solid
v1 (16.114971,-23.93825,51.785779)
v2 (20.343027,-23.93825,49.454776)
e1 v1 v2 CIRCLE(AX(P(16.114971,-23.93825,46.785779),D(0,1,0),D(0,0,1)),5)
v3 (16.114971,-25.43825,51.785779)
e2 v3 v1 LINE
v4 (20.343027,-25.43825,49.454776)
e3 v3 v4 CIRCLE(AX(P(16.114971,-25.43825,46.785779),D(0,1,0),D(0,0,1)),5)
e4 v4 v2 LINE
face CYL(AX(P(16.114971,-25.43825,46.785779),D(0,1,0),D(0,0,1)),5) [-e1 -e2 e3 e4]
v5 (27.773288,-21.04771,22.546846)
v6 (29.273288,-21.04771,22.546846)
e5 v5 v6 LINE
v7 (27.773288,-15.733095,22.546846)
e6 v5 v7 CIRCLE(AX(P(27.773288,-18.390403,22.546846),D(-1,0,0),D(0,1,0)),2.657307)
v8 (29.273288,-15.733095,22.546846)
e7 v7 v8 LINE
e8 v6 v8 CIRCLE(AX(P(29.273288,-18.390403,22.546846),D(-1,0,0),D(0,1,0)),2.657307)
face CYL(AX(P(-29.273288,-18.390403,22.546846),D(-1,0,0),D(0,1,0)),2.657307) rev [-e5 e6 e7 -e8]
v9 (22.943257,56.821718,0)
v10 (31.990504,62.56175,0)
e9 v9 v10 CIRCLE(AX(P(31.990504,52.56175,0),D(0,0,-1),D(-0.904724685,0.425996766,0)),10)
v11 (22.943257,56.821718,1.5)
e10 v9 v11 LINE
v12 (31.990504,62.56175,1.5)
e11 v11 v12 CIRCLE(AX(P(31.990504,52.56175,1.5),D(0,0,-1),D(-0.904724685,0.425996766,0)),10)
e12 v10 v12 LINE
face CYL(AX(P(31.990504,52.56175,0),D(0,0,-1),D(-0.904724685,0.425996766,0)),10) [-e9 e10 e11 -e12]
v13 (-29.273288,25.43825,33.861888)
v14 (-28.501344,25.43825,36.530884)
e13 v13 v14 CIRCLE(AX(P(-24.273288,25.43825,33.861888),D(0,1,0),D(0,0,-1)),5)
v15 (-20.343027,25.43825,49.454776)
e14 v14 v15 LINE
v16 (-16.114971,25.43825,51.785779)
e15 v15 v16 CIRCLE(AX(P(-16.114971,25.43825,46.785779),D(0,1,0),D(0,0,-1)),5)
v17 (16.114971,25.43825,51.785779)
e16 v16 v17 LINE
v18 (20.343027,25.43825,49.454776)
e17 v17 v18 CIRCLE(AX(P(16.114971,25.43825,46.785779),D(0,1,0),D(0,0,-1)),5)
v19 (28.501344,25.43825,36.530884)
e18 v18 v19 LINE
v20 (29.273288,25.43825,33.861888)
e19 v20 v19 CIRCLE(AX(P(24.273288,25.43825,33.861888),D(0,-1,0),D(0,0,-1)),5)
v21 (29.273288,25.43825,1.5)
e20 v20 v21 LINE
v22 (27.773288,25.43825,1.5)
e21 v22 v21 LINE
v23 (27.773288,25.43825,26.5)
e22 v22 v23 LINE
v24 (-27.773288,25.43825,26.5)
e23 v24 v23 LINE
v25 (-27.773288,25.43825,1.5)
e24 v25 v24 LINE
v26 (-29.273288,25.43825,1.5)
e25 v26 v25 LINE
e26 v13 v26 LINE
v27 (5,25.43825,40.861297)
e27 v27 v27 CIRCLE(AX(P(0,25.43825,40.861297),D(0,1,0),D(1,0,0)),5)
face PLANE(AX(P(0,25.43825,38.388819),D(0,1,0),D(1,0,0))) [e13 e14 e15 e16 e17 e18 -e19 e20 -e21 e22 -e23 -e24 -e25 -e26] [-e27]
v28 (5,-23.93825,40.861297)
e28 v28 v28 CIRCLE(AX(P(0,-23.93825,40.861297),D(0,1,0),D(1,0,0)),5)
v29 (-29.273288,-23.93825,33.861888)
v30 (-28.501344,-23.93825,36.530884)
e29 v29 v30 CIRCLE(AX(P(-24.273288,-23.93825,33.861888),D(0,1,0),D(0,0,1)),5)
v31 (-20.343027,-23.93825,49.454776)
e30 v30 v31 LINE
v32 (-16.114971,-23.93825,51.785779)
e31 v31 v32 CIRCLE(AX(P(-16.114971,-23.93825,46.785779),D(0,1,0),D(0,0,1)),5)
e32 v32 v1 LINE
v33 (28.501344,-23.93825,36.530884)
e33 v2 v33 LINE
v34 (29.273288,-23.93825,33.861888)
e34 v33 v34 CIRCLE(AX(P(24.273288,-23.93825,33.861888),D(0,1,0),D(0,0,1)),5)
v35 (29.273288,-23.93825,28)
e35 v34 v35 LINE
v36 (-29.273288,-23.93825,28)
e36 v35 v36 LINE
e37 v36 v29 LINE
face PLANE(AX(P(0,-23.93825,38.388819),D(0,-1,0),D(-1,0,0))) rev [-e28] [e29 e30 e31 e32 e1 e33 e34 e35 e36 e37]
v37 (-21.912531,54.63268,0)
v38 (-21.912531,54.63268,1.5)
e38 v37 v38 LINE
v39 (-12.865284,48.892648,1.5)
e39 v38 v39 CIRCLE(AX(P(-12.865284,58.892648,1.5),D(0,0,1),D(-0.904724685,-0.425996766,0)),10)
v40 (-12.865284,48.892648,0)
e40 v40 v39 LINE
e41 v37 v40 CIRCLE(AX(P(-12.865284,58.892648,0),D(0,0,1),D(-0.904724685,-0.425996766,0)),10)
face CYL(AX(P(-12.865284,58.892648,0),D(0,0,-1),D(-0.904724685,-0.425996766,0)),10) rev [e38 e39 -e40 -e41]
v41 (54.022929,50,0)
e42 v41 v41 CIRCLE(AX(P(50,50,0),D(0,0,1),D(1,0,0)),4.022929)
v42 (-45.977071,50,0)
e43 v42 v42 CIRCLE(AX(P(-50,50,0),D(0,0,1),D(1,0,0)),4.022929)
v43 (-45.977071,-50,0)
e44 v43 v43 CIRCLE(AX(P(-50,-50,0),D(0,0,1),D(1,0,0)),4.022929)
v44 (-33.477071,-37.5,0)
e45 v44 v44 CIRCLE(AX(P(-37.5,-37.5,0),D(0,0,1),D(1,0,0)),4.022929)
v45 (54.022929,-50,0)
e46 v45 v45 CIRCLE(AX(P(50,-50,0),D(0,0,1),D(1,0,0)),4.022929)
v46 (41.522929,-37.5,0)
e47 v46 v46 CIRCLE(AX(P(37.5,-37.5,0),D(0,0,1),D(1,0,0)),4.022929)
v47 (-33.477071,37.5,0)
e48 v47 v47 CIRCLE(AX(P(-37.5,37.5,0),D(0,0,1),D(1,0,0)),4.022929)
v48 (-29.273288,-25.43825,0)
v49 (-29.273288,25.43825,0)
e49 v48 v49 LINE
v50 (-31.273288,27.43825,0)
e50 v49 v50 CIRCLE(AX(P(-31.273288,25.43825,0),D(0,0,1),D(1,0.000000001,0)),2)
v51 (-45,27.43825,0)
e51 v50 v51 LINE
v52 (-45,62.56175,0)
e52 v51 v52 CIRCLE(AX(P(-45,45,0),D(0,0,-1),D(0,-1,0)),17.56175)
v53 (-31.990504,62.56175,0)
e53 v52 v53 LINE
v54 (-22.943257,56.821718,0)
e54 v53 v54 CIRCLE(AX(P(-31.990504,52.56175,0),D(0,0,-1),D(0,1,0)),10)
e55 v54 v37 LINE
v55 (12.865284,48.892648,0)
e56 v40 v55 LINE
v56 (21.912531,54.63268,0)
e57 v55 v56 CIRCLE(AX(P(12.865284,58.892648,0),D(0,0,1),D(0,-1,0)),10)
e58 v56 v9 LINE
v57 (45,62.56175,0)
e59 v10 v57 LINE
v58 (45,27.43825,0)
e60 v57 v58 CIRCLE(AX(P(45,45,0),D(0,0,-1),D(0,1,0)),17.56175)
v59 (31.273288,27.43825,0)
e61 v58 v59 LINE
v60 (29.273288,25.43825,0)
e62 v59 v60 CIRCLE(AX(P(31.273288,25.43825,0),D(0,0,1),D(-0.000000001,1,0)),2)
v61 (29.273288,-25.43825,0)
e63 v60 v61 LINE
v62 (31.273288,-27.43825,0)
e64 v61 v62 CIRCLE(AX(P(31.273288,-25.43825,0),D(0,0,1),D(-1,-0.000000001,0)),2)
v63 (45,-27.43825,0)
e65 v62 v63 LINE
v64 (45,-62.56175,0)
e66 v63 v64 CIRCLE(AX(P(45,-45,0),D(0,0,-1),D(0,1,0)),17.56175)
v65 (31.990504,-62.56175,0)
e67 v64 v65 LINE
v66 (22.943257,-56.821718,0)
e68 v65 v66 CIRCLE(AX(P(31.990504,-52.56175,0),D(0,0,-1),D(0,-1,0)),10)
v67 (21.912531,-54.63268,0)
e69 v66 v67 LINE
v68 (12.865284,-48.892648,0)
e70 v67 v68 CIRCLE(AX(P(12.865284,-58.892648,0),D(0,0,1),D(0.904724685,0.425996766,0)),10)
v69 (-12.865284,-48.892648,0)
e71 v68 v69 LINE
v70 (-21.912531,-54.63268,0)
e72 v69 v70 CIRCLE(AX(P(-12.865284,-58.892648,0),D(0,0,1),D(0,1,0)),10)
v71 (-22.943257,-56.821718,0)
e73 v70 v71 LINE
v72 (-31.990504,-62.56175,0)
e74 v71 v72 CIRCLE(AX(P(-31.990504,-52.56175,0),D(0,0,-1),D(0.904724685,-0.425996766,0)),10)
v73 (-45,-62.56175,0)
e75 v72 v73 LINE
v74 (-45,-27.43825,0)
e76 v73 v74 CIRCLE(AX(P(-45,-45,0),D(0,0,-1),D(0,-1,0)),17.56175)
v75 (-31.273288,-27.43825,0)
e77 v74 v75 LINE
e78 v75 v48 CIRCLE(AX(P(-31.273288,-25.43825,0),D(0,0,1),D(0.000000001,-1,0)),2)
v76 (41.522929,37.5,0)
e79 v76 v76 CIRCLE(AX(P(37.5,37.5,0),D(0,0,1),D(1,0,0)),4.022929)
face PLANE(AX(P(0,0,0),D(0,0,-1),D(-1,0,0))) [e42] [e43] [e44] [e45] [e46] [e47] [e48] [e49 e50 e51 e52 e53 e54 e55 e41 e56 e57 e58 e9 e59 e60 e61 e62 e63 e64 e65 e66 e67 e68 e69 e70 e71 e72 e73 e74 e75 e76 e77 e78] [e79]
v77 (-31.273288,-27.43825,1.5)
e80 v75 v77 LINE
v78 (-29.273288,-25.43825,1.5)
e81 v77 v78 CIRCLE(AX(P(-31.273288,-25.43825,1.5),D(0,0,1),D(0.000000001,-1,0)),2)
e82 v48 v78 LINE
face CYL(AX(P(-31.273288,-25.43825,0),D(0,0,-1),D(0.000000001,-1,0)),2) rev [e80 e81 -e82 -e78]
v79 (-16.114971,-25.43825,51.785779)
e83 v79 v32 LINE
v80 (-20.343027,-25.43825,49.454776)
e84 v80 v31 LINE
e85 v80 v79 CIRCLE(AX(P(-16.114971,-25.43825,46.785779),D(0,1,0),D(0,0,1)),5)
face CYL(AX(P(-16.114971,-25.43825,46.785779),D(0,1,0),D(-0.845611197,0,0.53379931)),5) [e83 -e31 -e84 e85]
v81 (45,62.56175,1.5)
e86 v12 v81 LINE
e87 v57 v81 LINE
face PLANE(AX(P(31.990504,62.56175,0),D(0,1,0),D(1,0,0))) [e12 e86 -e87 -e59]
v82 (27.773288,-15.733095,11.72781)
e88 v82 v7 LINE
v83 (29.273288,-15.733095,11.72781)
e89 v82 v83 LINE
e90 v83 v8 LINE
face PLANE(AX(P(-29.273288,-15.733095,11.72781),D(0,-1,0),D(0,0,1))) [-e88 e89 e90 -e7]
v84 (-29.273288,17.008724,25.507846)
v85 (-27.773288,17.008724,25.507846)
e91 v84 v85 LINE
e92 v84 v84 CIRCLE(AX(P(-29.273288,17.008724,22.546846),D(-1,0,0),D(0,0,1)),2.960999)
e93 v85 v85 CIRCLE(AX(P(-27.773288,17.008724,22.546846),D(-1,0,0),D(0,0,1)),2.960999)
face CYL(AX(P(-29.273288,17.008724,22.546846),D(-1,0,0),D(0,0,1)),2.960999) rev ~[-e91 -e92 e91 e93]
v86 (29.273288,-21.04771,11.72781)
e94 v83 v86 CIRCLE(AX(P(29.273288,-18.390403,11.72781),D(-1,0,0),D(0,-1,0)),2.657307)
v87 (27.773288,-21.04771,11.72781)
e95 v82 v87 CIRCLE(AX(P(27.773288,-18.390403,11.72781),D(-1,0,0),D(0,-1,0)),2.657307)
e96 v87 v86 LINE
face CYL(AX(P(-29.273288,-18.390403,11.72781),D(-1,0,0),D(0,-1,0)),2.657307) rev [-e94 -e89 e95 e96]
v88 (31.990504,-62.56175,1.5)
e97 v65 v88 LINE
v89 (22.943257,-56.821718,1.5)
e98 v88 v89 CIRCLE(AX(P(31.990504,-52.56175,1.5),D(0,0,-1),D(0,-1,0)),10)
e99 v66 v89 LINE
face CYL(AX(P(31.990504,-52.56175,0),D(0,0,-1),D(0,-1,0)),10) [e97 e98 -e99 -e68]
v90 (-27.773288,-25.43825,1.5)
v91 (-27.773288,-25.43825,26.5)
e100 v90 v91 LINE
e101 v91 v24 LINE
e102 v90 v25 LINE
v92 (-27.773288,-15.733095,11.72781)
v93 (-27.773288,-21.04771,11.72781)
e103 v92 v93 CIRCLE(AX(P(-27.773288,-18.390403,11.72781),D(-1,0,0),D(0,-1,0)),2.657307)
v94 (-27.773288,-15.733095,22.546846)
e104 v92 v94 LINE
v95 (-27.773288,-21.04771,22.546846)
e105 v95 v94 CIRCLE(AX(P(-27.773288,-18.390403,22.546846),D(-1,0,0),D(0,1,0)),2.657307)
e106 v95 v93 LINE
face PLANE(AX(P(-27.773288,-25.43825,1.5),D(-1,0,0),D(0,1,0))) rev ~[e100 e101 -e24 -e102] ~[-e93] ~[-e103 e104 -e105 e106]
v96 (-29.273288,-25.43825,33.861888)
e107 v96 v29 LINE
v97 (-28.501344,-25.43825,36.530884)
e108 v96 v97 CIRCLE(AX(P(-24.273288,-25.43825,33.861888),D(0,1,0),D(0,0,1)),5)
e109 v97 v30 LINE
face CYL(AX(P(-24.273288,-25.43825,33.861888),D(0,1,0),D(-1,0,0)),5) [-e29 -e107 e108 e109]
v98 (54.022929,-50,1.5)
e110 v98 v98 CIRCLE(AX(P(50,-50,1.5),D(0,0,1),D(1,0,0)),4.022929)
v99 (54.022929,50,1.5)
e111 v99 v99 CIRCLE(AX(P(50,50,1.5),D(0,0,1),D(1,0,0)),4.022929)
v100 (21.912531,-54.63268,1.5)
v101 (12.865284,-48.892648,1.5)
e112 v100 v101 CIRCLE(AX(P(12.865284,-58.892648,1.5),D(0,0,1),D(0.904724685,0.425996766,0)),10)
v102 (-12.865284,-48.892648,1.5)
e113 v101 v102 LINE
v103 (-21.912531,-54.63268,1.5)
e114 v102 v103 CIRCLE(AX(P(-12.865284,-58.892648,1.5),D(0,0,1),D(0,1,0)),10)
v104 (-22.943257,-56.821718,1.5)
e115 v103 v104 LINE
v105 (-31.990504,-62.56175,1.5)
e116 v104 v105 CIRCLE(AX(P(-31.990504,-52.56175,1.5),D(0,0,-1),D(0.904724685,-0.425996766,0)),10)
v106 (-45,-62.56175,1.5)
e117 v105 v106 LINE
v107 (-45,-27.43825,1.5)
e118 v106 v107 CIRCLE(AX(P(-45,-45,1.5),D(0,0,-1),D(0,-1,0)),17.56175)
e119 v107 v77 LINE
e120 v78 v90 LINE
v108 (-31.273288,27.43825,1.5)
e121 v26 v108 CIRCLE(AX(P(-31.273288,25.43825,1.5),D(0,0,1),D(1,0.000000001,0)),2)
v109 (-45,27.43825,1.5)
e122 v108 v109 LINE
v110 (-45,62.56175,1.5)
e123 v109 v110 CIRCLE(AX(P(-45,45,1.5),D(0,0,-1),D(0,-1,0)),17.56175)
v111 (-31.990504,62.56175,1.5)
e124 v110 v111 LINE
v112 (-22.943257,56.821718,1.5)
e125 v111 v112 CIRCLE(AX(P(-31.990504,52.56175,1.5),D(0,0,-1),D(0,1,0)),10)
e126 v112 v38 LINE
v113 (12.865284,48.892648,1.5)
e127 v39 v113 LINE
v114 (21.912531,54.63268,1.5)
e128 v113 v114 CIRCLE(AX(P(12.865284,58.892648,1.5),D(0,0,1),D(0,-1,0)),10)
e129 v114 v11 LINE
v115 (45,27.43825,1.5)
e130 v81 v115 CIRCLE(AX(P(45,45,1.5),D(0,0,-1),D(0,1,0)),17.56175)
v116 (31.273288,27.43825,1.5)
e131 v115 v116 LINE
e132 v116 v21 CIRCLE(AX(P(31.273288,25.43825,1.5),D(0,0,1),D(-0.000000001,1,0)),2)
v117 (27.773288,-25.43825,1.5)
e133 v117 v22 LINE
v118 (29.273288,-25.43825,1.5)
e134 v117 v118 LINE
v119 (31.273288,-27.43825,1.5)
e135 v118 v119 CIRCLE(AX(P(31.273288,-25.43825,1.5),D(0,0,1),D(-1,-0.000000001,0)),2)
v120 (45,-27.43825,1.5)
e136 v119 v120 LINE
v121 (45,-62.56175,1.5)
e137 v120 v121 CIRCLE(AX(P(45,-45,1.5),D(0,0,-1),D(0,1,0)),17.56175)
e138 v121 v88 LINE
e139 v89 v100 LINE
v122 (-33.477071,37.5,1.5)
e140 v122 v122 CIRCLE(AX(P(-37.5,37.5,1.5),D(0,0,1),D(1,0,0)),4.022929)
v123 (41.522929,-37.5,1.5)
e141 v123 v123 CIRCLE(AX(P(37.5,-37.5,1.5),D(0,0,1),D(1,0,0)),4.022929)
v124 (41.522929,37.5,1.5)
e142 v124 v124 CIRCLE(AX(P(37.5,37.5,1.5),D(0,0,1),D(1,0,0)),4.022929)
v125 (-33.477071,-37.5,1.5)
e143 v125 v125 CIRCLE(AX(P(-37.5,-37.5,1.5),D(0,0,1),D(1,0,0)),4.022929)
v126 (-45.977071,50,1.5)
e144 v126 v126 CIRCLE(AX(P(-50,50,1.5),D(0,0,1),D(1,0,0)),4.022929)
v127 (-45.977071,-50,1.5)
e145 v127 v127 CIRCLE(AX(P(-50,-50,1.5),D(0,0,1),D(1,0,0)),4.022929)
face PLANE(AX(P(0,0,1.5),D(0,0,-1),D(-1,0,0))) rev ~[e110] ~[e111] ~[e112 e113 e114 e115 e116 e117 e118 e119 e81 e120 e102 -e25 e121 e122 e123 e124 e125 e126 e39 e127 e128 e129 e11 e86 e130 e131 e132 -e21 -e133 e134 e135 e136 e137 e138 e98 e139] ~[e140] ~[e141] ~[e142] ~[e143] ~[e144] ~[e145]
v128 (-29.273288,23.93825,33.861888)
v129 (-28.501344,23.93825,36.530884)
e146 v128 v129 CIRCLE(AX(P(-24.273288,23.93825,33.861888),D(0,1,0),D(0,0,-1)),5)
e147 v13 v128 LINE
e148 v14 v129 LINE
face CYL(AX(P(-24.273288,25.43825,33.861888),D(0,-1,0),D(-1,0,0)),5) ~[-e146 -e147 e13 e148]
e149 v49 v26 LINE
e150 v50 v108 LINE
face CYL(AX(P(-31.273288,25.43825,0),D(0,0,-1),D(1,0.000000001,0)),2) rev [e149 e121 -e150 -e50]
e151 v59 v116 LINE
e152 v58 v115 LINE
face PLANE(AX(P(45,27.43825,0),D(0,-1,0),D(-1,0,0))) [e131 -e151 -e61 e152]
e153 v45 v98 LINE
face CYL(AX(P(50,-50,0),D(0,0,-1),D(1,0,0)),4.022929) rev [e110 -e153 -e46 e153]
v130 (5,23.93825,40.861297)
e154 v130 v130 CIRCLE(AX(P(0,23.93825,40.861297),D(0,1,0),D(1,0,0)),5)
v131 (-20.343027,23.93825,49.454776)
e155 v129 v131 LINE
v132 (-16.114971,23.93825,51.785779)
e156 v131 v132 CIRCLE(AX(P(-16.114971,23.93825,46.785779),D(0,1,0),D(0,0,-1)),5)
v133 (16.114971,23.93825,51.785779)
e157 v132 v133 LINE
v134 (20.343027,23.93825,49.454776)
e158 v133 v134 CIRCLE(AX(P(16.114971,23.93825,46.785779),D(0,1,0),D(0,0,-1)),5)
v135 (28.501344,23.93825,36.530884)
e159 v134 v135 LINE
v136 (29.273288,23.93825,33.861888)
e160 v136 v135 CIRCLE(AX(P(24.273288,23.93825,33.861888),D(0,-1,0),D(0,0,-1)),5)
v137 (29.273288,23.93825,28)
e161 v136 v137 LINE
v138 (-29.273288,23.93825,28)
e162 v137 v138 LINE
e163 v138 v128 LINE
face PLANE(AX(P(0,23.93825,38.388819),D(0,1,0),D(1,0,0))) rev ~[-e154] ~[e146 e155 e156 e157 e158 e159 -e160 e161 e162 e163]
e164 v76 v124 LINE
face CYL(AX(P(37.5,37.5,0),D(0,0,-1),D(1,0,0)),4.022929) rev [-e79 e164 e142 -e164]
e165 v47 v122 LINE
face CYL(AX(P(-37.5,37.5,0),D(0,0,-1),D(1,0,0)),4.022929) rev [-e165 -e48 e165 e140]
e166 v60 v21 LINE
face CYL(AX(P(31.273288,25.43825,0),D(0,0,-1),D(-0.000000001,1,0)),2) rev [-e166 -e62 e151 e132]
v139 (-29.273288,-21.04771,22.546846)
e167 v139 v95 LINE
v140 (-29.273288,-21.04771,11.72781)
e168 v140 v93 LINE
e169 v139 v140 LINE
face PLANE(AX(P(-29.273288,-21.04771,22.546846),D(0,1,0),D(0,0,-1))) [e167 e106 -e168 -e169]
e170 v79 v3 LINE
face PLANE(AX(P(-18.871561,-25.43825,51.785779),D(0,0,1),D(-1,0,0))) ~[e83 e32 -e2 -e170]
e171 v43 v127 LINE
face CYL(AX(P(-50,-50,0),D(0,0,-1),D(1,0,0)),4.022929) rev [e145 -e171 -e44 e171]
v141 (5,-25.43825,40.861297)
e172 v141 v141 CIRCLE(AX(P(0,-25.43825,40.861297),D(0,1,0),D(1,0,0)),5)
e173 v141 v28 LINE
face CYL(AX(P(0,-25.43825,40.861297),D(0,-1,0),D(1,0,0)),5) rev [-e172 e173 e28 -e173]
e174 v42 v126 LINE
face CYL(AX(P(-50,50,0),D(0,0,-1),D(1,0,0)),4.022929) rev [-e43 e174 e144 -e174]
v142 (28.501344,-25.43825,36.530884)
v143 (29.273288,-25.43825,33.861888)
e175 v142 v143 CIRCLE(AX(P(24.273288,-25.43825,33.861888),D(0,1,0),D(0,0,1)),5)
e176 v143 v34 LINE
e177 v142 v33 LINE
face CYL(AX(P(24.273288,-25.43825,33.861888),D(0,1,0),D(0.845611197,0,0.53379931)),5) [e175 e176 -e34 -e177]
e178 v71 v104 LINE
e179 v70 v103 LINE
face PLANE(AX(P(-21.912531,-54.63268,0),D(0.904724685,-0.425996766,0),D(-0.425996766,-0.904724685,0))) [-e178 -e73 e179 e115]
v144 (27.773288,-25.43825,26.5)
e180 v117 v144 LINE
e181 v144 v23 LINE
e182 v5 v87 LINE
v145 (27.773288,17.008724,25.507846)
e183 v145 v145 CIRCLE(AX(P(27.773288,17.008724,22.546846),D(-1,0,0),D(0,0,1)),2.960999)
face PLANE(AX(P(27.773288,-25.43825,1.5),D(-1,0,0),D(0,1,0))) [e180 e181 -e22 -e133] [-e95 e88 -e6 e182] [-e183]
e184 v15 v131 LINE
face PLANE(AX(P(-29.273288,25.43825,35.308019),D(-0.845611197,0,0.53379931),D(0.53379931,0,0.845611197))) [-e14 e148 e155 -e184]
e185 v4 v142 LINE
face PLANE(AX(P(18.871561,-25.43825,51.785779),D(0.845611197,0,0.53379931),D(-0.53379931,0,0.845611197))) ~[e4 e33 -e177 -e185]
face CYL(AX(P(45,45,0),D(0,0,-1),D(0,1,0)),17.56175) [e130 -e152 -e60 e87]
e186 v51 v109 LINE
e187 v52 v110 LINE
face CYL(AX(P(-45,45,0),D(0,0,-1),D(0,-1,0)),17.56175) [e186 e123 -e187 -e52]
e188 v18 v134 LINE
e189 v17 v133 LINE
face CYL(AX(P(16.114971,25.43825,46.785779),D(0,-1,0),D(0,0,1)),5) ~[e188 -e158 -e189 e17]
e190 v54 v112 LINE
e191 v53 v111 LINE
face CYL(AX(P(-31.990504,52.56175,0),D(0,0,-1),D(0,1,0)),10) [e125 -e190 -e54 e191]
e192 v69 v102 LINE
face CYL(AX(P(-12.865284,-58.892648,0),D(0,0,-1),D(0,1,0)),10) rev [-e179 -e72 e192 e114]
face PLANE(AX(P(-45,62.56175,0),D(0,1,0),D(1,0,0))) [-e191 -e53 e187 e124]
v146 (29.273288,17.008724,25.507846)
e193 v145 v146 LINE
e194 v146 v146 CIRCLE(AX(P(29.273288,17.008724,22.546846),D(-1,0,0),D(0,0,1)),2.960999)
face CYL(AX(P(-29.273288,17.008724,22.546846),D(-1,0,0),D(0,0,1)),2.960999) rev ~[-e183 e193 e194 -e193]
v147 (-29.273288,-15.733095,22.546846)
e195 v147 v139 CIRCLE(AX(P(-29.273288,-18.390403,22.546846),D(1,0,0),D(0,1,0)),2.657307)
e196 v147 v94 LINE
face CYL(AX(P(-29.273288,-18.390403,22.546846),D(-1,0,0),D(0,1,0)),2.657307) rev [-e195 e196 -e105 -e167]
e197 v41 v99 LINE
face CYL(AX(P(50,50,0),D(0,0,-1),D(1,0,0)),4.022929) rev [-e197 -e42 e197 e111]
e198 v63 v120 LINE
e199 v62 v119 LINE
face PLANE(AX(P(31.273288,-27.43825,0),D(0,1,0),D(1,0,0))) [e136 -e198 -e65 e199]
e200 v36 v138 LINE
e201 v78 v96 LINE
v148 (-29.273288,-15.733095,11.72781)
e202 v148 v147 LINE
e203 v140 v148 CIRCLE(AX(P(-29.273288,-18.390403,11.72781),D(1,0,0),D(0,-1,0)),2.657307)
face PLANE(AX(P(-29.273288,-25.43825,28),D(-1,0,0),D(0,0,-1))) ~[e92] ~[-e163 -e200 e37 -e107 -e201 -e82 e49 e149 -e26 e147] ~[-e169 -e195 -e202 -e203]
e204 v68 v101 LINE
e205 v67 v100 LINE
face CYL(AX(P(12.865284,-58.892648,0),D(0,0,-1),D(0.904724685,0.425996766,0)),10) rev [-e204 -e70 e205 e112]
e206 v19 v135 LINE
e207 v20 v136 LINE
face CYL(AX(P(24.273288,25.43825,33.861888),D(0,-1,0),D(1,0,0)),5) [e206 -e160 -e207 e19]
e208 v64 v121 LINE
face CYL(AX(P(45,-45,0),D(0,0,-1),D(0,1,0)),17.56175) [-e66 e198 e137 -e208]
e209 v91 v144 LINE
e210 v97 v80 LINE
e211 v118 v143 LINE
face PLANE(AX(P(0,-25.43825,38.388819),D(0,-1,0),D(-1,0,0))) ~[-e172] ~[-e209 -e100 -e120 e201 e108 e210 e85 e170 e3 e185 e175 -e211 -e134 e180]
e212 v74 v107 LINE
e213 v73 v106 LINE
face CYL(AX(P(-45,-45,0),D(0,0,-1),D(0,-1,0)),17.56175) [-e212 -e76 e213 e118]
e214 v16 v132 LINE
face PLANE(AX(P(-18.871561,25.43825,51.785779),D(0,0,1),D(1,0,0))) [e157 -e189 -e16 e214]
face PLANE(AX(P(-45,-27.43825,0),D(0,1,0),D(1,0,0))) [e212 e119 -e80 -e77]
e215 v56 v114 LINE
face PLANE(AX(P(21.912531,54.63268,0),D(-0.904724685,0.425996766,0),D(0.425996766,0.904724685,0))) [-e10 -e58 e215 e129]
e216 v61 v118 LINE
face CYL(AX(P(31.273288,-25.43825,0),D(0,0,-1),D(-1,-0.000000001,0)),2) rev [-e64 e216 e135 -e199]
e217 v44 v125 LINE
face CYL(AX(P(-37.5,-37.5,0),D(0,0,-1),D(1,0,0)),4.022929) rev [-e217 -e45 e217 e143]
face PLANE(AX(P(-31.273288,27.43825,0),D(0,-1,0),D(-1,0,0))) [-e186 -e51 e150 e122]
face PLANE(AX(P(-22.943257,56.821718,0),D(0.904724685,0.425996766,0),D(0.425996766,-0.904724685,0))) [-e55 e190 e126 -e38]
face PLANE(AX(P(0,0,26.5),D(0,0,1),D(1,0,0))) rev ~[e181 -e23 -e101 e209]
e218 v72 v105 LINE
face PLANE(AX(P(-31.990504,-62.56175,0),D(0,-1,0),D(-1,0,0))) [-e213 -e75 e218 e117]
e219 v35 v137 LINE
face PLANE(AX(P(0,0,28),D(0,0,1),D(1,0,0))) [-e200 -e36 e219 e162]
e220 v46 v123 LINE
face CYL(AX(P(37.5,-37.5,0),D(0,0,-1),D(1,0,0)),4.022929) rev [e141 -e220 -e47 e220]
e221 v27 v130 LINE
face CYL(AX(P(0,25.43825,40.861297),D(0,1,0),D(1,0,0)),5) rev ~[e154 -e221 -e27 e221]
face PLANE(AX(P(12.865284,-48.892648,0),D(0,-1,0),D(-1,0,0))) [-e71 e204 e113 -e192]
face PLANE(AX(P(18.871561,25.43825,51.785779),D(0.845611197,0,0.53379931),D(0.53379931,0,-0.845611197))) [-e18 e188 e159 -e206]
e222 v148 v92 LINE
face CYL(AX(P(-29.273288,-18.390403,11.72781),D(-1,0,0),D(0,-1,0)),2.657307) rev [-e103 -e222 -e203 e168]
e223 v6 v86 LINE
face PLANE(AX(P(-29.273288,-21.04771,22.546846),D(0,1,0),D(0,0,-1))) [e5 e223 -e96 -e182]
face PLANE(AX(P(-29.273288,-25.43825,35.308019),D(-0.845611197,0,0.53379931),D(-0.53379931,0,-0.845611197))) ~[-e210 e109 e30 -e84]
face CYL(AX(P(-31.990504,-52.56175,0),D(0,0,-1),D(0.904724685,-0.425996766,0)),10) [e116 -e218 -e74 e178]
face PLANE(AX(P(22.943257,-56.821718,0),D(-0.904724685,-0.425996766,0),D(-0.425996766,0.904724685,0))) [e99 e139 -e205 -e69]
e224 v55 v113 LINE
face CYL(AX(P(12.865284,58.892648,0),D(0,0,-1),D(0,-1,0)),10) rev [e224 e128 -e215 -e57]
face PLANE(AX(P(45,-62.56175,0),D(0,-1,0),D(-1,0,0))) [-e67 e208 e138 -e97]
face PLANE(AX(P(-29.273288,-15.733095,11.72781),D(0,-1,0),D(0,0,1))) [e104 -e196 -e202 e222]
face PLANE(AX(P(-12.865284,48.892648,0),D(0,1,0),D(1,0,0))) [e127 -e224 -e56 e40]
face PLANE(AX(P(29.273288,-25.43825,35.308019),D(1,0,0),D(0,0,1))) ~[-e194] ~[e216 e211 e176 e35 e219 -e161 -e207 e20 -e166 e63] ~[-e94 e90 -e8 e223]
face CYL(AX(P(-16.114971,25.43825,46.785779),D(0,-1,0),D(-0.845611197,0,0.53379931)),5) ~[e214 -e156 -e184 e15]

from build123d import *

# Parameters (mm, degrees)
SKETCH1_R           = 4.022928706
BOSS_EXTRUDE1_DEPTH = 1.5
SKETCH3_W           = 1.5
SKETCH3_H           = 50.876500294
BOSS_EXTRUDE2_DEPTH = 25
SKETCH4_W           = 58.54657641
SKETCH4_H           = 50.876500294
BOSS_EXTRUDE3_DEPTH = 1.5
SKETCH5_R           = 5
BOSS_EXTRUDE4_DEPTH = 1.5
SKETCH8_R           = 2.960999365
CUT_EXTRUDE1_DEPTH  = 92.835038059
FILLET1_R           = 5


with BuildPart() as part:
    # Sketch1 → Boss-Extrude1 (new body)
    with BuildSketch(Plane.XY):
        with BuildLine():
            Line((-31.273288205, 27.438250147), (-45, 27.438250147))
            ThreePointArc((-45, 27.438250147), (-62.561749853, 45), (-45, 62.561749853))
            Line((-45, 62.561749853), (-31.990503674, 62.561749853))
            ThreePointArc((-31.990503674, 62.561749853), (-26.633250489, 61.005673012), (-22.943256827, 56.821717516))
            Line((-22.943256827, 56.821717516), (-21.912531254, 54.632680079))
            ThreePointArc((-21.912531254, 54.632680079), (-18.222537592, 50.448724583), (-12.865284407, 48.892647742))
            Line((-12.865284407, 48.892647742), (12.865284407, 48.892647742))
            ThreePointArc((12.865284407, 48.892647742), (18.222537592, 50.448724583), (21.912531254, 54.632680079))
            Line((21.912531254, 54.632680079), (22.943256827, 56.821717516))
            ThreePointArc((22.943256827, 56.821717516), (26.633250489, 61.005673012), (31.990503674, 62.561749853))
            Line((31.990503674, 62.561749853), (45, 62.561749853))
            ThreePointArc((45, 62.561749853), (62.561749853, 45), (45, 27.438250147))
            Line((45, 27.438250147), (31.273288205, 27.438250147))
            ThreePointArc((31.273288205, 27.438250147), (29.859074643, 26.852463709), (29.273288205, 25.438250147))
            Line((29.273288205, 25.438250147), (29.273288205, -25.438250147))
            ThreePointArc((29.273288205, -25.438250147), (29.859074643, -26.852463709), (31.273288205, -27.438250147))
            Line((31.273288205, -27.438250147), (45, -27.438250147))
            ThreePointArc((45, -27.438250147), (62.561749853, -45), (45, -62.561749853))
            Line((45, -62.561749853), (31.990503674, -62.561749853))
            ThreePointArc((31.990503674, -62.561749853), (26.633250489, -61.005673012), (22.943256827, -56.821717516))
            Line((22.943256827, -56.821717516), (21.912531254, -54.632680079))
            ThreePointArc((21.912531254, -54.632680079), (18.222537592, -50.448724583), (12.865284407, -48.892647742))
            Line((12.865284407, -48.892647742), (-12.865284407, -48.892647742))
            ThreePointArc((-12.865284407, -48.892647742), (-18.222537592, -50.448724583), (-21.912531254, -54.632680079))
            Line((-21.912531254, -54.632680079), (-22.943256827, -56.821717516))
            ThreePointArc((-22.943256827, -56.821717516), (-26.633250489, -61.005673012), (-31.990503674, -62.561749853))
            Line((-31.990503674, -62.561749853), (-45, -62.561749853))
            ThreePointArc((-45, -62.561749853), (-62.561749853, -45), (-45, -27.438250147))
            Line((-45, -27.438250147), (-31.273288205, -27.438250147))
            ThreePointArc((-31.273288205, -27.438250147), (-29.859074643, -26.852463709), (-29.273288205, -25.438250147))
            Line((-29.273288205, -25.438250147), (-29.273288205, 25.438250147))
            ThreePointArc((-29.273288205, 25.438250147), (-29.859074643, 26.852463709), (-31.273288205, 27.438250147))
        make_face()
        with Locations((-50, 50)):
            Circle(SKETCH1_R, mode=Mode.SUBTRACT)
        with Locations((50, 50)):
            Circle(SKETCH1_R, mode=Mode.SUBTRACT)
        with Locations((-37.5, 37.5)):
            Circle(SKETCH1_R, mode=Mode.SUBTRACT)
        with Locations((37.5, 37.5)):
            Circle(SKETCH1_R, mode=Mode.SUBTRACT)
        with Locations((50, -50)):
            Circle(SKETCH1_R, mode=Mode.SUBTRACT)
        with Locations((37.5, -37.5)):
            Circle(SKETCH1_R, mode=Mode.SUBTRACT)
        with Locations((-37.5, -37.5)):
            Circle(SKETCH1_R, mode=Mode.SUBTRACT)
        with Locations((-50, -50)):
            Circle(SKETCH1_R, mode=Mode.SUBTRACT)
    extrude(amount=BOSS_EXTRUDE1_DEPTH)

    # Sketch3 → Boss-Extrude2 (add)
    with BuildSketch(Plane.XY.offset(1.5)):
        with Locations((-28.523288205, 0)):
            Rectangle(SKETCH3_W, SKETCH3_H)
        with Locations((28.523288205, 0)):
            Rectangle(SKETCH3_W, SKETCH3_H)
    extrude(amount=BOSS_EXTRUDE2_DEPTH)

    # Sketch4 → Boss-Extrude3 (add)
    with BuildSketch(Plane.XY.offset(26.5)):
        Rectangle(SKETCH4_W, SKETCH4_H)
    extrude(amount=BOSS_EXTRUDE3_DEPTH)

    # Sketch5 → Boss-Extrude4 (add)
    with BuildSketch(Plane(origin=(0, 25.438250147, 0), x_dir=(1, 0, 0), z_dir=(0, 1, 0))):
        Polygon((-29.273288205, -28), (-29.273288205, -35.308019153), (-18.871561113, -51.78577911), (18.871561113, -51.78577911), (29.273288205, -35.308019153), (29.273288205, -28), align=None)
        with Locations((0, -40.861297371)):
            Circle(SKETCH5_R, mode=Mode.SUBTRACT)
    boss_extrude4 = extrude(amount=-BOSS_EXTRUDE4_DEPTH)

    # Mirror1: Boss-Extrude4 across plane
    add(boss_extrude4.mirror(Plane.ZX))

    # Sketch8 → Cut-Extrude1 (cut, through all)
    with BuildSketch(Plane.ZY.offset(29.273288205)):
        with Locations((22.546846222, 17.00872447)):
            Circle(SKETCH8_R)
        with BuildLine():
            Line((11.727810079, -15.733095436), (22.546846222, -15.733095436))
            ThreePointArc((22.546846222, -15.733095436), (25.204153345, -18.390402559), (22.546846222, -21.047709682))
            Line((22.546846222, -21.047709682), (11.727810079, -21.047709682))
            ThreePointArc((11.727810079, -21.047709682), (9.070502956, -18.390402559), (11.727810079, -15.733095436))
        make_face()
    extrude(amount=-CUT_EXTRUDE1_DEPTH, mode=Mode.SUBTRACT)

    # Fillet1
    fillet1_edges = [part.edges().sort_by_distance(p)[0] for p in [
        (29.273288205, 24.688250147, 35.308019153),
        (18.871561113, 24.688250147, 51.78577911),
        (-18.871561113, 24.688250147, 51.78577911),
        (-29.273288205, 24.688250147, 35.308019153),
        (-29.273288205, -24.688250147, 35.308019153),
        (-18.871561113, -24.688250147, 51.78577911),
        (18.871561113, -24.688250147, 51.78577911),
        (29.273288205, -24.688250147, 35.308019153),
    ]]
    fillet(fillet1_edges, radius=FILLET1_R)


solid = part.part
